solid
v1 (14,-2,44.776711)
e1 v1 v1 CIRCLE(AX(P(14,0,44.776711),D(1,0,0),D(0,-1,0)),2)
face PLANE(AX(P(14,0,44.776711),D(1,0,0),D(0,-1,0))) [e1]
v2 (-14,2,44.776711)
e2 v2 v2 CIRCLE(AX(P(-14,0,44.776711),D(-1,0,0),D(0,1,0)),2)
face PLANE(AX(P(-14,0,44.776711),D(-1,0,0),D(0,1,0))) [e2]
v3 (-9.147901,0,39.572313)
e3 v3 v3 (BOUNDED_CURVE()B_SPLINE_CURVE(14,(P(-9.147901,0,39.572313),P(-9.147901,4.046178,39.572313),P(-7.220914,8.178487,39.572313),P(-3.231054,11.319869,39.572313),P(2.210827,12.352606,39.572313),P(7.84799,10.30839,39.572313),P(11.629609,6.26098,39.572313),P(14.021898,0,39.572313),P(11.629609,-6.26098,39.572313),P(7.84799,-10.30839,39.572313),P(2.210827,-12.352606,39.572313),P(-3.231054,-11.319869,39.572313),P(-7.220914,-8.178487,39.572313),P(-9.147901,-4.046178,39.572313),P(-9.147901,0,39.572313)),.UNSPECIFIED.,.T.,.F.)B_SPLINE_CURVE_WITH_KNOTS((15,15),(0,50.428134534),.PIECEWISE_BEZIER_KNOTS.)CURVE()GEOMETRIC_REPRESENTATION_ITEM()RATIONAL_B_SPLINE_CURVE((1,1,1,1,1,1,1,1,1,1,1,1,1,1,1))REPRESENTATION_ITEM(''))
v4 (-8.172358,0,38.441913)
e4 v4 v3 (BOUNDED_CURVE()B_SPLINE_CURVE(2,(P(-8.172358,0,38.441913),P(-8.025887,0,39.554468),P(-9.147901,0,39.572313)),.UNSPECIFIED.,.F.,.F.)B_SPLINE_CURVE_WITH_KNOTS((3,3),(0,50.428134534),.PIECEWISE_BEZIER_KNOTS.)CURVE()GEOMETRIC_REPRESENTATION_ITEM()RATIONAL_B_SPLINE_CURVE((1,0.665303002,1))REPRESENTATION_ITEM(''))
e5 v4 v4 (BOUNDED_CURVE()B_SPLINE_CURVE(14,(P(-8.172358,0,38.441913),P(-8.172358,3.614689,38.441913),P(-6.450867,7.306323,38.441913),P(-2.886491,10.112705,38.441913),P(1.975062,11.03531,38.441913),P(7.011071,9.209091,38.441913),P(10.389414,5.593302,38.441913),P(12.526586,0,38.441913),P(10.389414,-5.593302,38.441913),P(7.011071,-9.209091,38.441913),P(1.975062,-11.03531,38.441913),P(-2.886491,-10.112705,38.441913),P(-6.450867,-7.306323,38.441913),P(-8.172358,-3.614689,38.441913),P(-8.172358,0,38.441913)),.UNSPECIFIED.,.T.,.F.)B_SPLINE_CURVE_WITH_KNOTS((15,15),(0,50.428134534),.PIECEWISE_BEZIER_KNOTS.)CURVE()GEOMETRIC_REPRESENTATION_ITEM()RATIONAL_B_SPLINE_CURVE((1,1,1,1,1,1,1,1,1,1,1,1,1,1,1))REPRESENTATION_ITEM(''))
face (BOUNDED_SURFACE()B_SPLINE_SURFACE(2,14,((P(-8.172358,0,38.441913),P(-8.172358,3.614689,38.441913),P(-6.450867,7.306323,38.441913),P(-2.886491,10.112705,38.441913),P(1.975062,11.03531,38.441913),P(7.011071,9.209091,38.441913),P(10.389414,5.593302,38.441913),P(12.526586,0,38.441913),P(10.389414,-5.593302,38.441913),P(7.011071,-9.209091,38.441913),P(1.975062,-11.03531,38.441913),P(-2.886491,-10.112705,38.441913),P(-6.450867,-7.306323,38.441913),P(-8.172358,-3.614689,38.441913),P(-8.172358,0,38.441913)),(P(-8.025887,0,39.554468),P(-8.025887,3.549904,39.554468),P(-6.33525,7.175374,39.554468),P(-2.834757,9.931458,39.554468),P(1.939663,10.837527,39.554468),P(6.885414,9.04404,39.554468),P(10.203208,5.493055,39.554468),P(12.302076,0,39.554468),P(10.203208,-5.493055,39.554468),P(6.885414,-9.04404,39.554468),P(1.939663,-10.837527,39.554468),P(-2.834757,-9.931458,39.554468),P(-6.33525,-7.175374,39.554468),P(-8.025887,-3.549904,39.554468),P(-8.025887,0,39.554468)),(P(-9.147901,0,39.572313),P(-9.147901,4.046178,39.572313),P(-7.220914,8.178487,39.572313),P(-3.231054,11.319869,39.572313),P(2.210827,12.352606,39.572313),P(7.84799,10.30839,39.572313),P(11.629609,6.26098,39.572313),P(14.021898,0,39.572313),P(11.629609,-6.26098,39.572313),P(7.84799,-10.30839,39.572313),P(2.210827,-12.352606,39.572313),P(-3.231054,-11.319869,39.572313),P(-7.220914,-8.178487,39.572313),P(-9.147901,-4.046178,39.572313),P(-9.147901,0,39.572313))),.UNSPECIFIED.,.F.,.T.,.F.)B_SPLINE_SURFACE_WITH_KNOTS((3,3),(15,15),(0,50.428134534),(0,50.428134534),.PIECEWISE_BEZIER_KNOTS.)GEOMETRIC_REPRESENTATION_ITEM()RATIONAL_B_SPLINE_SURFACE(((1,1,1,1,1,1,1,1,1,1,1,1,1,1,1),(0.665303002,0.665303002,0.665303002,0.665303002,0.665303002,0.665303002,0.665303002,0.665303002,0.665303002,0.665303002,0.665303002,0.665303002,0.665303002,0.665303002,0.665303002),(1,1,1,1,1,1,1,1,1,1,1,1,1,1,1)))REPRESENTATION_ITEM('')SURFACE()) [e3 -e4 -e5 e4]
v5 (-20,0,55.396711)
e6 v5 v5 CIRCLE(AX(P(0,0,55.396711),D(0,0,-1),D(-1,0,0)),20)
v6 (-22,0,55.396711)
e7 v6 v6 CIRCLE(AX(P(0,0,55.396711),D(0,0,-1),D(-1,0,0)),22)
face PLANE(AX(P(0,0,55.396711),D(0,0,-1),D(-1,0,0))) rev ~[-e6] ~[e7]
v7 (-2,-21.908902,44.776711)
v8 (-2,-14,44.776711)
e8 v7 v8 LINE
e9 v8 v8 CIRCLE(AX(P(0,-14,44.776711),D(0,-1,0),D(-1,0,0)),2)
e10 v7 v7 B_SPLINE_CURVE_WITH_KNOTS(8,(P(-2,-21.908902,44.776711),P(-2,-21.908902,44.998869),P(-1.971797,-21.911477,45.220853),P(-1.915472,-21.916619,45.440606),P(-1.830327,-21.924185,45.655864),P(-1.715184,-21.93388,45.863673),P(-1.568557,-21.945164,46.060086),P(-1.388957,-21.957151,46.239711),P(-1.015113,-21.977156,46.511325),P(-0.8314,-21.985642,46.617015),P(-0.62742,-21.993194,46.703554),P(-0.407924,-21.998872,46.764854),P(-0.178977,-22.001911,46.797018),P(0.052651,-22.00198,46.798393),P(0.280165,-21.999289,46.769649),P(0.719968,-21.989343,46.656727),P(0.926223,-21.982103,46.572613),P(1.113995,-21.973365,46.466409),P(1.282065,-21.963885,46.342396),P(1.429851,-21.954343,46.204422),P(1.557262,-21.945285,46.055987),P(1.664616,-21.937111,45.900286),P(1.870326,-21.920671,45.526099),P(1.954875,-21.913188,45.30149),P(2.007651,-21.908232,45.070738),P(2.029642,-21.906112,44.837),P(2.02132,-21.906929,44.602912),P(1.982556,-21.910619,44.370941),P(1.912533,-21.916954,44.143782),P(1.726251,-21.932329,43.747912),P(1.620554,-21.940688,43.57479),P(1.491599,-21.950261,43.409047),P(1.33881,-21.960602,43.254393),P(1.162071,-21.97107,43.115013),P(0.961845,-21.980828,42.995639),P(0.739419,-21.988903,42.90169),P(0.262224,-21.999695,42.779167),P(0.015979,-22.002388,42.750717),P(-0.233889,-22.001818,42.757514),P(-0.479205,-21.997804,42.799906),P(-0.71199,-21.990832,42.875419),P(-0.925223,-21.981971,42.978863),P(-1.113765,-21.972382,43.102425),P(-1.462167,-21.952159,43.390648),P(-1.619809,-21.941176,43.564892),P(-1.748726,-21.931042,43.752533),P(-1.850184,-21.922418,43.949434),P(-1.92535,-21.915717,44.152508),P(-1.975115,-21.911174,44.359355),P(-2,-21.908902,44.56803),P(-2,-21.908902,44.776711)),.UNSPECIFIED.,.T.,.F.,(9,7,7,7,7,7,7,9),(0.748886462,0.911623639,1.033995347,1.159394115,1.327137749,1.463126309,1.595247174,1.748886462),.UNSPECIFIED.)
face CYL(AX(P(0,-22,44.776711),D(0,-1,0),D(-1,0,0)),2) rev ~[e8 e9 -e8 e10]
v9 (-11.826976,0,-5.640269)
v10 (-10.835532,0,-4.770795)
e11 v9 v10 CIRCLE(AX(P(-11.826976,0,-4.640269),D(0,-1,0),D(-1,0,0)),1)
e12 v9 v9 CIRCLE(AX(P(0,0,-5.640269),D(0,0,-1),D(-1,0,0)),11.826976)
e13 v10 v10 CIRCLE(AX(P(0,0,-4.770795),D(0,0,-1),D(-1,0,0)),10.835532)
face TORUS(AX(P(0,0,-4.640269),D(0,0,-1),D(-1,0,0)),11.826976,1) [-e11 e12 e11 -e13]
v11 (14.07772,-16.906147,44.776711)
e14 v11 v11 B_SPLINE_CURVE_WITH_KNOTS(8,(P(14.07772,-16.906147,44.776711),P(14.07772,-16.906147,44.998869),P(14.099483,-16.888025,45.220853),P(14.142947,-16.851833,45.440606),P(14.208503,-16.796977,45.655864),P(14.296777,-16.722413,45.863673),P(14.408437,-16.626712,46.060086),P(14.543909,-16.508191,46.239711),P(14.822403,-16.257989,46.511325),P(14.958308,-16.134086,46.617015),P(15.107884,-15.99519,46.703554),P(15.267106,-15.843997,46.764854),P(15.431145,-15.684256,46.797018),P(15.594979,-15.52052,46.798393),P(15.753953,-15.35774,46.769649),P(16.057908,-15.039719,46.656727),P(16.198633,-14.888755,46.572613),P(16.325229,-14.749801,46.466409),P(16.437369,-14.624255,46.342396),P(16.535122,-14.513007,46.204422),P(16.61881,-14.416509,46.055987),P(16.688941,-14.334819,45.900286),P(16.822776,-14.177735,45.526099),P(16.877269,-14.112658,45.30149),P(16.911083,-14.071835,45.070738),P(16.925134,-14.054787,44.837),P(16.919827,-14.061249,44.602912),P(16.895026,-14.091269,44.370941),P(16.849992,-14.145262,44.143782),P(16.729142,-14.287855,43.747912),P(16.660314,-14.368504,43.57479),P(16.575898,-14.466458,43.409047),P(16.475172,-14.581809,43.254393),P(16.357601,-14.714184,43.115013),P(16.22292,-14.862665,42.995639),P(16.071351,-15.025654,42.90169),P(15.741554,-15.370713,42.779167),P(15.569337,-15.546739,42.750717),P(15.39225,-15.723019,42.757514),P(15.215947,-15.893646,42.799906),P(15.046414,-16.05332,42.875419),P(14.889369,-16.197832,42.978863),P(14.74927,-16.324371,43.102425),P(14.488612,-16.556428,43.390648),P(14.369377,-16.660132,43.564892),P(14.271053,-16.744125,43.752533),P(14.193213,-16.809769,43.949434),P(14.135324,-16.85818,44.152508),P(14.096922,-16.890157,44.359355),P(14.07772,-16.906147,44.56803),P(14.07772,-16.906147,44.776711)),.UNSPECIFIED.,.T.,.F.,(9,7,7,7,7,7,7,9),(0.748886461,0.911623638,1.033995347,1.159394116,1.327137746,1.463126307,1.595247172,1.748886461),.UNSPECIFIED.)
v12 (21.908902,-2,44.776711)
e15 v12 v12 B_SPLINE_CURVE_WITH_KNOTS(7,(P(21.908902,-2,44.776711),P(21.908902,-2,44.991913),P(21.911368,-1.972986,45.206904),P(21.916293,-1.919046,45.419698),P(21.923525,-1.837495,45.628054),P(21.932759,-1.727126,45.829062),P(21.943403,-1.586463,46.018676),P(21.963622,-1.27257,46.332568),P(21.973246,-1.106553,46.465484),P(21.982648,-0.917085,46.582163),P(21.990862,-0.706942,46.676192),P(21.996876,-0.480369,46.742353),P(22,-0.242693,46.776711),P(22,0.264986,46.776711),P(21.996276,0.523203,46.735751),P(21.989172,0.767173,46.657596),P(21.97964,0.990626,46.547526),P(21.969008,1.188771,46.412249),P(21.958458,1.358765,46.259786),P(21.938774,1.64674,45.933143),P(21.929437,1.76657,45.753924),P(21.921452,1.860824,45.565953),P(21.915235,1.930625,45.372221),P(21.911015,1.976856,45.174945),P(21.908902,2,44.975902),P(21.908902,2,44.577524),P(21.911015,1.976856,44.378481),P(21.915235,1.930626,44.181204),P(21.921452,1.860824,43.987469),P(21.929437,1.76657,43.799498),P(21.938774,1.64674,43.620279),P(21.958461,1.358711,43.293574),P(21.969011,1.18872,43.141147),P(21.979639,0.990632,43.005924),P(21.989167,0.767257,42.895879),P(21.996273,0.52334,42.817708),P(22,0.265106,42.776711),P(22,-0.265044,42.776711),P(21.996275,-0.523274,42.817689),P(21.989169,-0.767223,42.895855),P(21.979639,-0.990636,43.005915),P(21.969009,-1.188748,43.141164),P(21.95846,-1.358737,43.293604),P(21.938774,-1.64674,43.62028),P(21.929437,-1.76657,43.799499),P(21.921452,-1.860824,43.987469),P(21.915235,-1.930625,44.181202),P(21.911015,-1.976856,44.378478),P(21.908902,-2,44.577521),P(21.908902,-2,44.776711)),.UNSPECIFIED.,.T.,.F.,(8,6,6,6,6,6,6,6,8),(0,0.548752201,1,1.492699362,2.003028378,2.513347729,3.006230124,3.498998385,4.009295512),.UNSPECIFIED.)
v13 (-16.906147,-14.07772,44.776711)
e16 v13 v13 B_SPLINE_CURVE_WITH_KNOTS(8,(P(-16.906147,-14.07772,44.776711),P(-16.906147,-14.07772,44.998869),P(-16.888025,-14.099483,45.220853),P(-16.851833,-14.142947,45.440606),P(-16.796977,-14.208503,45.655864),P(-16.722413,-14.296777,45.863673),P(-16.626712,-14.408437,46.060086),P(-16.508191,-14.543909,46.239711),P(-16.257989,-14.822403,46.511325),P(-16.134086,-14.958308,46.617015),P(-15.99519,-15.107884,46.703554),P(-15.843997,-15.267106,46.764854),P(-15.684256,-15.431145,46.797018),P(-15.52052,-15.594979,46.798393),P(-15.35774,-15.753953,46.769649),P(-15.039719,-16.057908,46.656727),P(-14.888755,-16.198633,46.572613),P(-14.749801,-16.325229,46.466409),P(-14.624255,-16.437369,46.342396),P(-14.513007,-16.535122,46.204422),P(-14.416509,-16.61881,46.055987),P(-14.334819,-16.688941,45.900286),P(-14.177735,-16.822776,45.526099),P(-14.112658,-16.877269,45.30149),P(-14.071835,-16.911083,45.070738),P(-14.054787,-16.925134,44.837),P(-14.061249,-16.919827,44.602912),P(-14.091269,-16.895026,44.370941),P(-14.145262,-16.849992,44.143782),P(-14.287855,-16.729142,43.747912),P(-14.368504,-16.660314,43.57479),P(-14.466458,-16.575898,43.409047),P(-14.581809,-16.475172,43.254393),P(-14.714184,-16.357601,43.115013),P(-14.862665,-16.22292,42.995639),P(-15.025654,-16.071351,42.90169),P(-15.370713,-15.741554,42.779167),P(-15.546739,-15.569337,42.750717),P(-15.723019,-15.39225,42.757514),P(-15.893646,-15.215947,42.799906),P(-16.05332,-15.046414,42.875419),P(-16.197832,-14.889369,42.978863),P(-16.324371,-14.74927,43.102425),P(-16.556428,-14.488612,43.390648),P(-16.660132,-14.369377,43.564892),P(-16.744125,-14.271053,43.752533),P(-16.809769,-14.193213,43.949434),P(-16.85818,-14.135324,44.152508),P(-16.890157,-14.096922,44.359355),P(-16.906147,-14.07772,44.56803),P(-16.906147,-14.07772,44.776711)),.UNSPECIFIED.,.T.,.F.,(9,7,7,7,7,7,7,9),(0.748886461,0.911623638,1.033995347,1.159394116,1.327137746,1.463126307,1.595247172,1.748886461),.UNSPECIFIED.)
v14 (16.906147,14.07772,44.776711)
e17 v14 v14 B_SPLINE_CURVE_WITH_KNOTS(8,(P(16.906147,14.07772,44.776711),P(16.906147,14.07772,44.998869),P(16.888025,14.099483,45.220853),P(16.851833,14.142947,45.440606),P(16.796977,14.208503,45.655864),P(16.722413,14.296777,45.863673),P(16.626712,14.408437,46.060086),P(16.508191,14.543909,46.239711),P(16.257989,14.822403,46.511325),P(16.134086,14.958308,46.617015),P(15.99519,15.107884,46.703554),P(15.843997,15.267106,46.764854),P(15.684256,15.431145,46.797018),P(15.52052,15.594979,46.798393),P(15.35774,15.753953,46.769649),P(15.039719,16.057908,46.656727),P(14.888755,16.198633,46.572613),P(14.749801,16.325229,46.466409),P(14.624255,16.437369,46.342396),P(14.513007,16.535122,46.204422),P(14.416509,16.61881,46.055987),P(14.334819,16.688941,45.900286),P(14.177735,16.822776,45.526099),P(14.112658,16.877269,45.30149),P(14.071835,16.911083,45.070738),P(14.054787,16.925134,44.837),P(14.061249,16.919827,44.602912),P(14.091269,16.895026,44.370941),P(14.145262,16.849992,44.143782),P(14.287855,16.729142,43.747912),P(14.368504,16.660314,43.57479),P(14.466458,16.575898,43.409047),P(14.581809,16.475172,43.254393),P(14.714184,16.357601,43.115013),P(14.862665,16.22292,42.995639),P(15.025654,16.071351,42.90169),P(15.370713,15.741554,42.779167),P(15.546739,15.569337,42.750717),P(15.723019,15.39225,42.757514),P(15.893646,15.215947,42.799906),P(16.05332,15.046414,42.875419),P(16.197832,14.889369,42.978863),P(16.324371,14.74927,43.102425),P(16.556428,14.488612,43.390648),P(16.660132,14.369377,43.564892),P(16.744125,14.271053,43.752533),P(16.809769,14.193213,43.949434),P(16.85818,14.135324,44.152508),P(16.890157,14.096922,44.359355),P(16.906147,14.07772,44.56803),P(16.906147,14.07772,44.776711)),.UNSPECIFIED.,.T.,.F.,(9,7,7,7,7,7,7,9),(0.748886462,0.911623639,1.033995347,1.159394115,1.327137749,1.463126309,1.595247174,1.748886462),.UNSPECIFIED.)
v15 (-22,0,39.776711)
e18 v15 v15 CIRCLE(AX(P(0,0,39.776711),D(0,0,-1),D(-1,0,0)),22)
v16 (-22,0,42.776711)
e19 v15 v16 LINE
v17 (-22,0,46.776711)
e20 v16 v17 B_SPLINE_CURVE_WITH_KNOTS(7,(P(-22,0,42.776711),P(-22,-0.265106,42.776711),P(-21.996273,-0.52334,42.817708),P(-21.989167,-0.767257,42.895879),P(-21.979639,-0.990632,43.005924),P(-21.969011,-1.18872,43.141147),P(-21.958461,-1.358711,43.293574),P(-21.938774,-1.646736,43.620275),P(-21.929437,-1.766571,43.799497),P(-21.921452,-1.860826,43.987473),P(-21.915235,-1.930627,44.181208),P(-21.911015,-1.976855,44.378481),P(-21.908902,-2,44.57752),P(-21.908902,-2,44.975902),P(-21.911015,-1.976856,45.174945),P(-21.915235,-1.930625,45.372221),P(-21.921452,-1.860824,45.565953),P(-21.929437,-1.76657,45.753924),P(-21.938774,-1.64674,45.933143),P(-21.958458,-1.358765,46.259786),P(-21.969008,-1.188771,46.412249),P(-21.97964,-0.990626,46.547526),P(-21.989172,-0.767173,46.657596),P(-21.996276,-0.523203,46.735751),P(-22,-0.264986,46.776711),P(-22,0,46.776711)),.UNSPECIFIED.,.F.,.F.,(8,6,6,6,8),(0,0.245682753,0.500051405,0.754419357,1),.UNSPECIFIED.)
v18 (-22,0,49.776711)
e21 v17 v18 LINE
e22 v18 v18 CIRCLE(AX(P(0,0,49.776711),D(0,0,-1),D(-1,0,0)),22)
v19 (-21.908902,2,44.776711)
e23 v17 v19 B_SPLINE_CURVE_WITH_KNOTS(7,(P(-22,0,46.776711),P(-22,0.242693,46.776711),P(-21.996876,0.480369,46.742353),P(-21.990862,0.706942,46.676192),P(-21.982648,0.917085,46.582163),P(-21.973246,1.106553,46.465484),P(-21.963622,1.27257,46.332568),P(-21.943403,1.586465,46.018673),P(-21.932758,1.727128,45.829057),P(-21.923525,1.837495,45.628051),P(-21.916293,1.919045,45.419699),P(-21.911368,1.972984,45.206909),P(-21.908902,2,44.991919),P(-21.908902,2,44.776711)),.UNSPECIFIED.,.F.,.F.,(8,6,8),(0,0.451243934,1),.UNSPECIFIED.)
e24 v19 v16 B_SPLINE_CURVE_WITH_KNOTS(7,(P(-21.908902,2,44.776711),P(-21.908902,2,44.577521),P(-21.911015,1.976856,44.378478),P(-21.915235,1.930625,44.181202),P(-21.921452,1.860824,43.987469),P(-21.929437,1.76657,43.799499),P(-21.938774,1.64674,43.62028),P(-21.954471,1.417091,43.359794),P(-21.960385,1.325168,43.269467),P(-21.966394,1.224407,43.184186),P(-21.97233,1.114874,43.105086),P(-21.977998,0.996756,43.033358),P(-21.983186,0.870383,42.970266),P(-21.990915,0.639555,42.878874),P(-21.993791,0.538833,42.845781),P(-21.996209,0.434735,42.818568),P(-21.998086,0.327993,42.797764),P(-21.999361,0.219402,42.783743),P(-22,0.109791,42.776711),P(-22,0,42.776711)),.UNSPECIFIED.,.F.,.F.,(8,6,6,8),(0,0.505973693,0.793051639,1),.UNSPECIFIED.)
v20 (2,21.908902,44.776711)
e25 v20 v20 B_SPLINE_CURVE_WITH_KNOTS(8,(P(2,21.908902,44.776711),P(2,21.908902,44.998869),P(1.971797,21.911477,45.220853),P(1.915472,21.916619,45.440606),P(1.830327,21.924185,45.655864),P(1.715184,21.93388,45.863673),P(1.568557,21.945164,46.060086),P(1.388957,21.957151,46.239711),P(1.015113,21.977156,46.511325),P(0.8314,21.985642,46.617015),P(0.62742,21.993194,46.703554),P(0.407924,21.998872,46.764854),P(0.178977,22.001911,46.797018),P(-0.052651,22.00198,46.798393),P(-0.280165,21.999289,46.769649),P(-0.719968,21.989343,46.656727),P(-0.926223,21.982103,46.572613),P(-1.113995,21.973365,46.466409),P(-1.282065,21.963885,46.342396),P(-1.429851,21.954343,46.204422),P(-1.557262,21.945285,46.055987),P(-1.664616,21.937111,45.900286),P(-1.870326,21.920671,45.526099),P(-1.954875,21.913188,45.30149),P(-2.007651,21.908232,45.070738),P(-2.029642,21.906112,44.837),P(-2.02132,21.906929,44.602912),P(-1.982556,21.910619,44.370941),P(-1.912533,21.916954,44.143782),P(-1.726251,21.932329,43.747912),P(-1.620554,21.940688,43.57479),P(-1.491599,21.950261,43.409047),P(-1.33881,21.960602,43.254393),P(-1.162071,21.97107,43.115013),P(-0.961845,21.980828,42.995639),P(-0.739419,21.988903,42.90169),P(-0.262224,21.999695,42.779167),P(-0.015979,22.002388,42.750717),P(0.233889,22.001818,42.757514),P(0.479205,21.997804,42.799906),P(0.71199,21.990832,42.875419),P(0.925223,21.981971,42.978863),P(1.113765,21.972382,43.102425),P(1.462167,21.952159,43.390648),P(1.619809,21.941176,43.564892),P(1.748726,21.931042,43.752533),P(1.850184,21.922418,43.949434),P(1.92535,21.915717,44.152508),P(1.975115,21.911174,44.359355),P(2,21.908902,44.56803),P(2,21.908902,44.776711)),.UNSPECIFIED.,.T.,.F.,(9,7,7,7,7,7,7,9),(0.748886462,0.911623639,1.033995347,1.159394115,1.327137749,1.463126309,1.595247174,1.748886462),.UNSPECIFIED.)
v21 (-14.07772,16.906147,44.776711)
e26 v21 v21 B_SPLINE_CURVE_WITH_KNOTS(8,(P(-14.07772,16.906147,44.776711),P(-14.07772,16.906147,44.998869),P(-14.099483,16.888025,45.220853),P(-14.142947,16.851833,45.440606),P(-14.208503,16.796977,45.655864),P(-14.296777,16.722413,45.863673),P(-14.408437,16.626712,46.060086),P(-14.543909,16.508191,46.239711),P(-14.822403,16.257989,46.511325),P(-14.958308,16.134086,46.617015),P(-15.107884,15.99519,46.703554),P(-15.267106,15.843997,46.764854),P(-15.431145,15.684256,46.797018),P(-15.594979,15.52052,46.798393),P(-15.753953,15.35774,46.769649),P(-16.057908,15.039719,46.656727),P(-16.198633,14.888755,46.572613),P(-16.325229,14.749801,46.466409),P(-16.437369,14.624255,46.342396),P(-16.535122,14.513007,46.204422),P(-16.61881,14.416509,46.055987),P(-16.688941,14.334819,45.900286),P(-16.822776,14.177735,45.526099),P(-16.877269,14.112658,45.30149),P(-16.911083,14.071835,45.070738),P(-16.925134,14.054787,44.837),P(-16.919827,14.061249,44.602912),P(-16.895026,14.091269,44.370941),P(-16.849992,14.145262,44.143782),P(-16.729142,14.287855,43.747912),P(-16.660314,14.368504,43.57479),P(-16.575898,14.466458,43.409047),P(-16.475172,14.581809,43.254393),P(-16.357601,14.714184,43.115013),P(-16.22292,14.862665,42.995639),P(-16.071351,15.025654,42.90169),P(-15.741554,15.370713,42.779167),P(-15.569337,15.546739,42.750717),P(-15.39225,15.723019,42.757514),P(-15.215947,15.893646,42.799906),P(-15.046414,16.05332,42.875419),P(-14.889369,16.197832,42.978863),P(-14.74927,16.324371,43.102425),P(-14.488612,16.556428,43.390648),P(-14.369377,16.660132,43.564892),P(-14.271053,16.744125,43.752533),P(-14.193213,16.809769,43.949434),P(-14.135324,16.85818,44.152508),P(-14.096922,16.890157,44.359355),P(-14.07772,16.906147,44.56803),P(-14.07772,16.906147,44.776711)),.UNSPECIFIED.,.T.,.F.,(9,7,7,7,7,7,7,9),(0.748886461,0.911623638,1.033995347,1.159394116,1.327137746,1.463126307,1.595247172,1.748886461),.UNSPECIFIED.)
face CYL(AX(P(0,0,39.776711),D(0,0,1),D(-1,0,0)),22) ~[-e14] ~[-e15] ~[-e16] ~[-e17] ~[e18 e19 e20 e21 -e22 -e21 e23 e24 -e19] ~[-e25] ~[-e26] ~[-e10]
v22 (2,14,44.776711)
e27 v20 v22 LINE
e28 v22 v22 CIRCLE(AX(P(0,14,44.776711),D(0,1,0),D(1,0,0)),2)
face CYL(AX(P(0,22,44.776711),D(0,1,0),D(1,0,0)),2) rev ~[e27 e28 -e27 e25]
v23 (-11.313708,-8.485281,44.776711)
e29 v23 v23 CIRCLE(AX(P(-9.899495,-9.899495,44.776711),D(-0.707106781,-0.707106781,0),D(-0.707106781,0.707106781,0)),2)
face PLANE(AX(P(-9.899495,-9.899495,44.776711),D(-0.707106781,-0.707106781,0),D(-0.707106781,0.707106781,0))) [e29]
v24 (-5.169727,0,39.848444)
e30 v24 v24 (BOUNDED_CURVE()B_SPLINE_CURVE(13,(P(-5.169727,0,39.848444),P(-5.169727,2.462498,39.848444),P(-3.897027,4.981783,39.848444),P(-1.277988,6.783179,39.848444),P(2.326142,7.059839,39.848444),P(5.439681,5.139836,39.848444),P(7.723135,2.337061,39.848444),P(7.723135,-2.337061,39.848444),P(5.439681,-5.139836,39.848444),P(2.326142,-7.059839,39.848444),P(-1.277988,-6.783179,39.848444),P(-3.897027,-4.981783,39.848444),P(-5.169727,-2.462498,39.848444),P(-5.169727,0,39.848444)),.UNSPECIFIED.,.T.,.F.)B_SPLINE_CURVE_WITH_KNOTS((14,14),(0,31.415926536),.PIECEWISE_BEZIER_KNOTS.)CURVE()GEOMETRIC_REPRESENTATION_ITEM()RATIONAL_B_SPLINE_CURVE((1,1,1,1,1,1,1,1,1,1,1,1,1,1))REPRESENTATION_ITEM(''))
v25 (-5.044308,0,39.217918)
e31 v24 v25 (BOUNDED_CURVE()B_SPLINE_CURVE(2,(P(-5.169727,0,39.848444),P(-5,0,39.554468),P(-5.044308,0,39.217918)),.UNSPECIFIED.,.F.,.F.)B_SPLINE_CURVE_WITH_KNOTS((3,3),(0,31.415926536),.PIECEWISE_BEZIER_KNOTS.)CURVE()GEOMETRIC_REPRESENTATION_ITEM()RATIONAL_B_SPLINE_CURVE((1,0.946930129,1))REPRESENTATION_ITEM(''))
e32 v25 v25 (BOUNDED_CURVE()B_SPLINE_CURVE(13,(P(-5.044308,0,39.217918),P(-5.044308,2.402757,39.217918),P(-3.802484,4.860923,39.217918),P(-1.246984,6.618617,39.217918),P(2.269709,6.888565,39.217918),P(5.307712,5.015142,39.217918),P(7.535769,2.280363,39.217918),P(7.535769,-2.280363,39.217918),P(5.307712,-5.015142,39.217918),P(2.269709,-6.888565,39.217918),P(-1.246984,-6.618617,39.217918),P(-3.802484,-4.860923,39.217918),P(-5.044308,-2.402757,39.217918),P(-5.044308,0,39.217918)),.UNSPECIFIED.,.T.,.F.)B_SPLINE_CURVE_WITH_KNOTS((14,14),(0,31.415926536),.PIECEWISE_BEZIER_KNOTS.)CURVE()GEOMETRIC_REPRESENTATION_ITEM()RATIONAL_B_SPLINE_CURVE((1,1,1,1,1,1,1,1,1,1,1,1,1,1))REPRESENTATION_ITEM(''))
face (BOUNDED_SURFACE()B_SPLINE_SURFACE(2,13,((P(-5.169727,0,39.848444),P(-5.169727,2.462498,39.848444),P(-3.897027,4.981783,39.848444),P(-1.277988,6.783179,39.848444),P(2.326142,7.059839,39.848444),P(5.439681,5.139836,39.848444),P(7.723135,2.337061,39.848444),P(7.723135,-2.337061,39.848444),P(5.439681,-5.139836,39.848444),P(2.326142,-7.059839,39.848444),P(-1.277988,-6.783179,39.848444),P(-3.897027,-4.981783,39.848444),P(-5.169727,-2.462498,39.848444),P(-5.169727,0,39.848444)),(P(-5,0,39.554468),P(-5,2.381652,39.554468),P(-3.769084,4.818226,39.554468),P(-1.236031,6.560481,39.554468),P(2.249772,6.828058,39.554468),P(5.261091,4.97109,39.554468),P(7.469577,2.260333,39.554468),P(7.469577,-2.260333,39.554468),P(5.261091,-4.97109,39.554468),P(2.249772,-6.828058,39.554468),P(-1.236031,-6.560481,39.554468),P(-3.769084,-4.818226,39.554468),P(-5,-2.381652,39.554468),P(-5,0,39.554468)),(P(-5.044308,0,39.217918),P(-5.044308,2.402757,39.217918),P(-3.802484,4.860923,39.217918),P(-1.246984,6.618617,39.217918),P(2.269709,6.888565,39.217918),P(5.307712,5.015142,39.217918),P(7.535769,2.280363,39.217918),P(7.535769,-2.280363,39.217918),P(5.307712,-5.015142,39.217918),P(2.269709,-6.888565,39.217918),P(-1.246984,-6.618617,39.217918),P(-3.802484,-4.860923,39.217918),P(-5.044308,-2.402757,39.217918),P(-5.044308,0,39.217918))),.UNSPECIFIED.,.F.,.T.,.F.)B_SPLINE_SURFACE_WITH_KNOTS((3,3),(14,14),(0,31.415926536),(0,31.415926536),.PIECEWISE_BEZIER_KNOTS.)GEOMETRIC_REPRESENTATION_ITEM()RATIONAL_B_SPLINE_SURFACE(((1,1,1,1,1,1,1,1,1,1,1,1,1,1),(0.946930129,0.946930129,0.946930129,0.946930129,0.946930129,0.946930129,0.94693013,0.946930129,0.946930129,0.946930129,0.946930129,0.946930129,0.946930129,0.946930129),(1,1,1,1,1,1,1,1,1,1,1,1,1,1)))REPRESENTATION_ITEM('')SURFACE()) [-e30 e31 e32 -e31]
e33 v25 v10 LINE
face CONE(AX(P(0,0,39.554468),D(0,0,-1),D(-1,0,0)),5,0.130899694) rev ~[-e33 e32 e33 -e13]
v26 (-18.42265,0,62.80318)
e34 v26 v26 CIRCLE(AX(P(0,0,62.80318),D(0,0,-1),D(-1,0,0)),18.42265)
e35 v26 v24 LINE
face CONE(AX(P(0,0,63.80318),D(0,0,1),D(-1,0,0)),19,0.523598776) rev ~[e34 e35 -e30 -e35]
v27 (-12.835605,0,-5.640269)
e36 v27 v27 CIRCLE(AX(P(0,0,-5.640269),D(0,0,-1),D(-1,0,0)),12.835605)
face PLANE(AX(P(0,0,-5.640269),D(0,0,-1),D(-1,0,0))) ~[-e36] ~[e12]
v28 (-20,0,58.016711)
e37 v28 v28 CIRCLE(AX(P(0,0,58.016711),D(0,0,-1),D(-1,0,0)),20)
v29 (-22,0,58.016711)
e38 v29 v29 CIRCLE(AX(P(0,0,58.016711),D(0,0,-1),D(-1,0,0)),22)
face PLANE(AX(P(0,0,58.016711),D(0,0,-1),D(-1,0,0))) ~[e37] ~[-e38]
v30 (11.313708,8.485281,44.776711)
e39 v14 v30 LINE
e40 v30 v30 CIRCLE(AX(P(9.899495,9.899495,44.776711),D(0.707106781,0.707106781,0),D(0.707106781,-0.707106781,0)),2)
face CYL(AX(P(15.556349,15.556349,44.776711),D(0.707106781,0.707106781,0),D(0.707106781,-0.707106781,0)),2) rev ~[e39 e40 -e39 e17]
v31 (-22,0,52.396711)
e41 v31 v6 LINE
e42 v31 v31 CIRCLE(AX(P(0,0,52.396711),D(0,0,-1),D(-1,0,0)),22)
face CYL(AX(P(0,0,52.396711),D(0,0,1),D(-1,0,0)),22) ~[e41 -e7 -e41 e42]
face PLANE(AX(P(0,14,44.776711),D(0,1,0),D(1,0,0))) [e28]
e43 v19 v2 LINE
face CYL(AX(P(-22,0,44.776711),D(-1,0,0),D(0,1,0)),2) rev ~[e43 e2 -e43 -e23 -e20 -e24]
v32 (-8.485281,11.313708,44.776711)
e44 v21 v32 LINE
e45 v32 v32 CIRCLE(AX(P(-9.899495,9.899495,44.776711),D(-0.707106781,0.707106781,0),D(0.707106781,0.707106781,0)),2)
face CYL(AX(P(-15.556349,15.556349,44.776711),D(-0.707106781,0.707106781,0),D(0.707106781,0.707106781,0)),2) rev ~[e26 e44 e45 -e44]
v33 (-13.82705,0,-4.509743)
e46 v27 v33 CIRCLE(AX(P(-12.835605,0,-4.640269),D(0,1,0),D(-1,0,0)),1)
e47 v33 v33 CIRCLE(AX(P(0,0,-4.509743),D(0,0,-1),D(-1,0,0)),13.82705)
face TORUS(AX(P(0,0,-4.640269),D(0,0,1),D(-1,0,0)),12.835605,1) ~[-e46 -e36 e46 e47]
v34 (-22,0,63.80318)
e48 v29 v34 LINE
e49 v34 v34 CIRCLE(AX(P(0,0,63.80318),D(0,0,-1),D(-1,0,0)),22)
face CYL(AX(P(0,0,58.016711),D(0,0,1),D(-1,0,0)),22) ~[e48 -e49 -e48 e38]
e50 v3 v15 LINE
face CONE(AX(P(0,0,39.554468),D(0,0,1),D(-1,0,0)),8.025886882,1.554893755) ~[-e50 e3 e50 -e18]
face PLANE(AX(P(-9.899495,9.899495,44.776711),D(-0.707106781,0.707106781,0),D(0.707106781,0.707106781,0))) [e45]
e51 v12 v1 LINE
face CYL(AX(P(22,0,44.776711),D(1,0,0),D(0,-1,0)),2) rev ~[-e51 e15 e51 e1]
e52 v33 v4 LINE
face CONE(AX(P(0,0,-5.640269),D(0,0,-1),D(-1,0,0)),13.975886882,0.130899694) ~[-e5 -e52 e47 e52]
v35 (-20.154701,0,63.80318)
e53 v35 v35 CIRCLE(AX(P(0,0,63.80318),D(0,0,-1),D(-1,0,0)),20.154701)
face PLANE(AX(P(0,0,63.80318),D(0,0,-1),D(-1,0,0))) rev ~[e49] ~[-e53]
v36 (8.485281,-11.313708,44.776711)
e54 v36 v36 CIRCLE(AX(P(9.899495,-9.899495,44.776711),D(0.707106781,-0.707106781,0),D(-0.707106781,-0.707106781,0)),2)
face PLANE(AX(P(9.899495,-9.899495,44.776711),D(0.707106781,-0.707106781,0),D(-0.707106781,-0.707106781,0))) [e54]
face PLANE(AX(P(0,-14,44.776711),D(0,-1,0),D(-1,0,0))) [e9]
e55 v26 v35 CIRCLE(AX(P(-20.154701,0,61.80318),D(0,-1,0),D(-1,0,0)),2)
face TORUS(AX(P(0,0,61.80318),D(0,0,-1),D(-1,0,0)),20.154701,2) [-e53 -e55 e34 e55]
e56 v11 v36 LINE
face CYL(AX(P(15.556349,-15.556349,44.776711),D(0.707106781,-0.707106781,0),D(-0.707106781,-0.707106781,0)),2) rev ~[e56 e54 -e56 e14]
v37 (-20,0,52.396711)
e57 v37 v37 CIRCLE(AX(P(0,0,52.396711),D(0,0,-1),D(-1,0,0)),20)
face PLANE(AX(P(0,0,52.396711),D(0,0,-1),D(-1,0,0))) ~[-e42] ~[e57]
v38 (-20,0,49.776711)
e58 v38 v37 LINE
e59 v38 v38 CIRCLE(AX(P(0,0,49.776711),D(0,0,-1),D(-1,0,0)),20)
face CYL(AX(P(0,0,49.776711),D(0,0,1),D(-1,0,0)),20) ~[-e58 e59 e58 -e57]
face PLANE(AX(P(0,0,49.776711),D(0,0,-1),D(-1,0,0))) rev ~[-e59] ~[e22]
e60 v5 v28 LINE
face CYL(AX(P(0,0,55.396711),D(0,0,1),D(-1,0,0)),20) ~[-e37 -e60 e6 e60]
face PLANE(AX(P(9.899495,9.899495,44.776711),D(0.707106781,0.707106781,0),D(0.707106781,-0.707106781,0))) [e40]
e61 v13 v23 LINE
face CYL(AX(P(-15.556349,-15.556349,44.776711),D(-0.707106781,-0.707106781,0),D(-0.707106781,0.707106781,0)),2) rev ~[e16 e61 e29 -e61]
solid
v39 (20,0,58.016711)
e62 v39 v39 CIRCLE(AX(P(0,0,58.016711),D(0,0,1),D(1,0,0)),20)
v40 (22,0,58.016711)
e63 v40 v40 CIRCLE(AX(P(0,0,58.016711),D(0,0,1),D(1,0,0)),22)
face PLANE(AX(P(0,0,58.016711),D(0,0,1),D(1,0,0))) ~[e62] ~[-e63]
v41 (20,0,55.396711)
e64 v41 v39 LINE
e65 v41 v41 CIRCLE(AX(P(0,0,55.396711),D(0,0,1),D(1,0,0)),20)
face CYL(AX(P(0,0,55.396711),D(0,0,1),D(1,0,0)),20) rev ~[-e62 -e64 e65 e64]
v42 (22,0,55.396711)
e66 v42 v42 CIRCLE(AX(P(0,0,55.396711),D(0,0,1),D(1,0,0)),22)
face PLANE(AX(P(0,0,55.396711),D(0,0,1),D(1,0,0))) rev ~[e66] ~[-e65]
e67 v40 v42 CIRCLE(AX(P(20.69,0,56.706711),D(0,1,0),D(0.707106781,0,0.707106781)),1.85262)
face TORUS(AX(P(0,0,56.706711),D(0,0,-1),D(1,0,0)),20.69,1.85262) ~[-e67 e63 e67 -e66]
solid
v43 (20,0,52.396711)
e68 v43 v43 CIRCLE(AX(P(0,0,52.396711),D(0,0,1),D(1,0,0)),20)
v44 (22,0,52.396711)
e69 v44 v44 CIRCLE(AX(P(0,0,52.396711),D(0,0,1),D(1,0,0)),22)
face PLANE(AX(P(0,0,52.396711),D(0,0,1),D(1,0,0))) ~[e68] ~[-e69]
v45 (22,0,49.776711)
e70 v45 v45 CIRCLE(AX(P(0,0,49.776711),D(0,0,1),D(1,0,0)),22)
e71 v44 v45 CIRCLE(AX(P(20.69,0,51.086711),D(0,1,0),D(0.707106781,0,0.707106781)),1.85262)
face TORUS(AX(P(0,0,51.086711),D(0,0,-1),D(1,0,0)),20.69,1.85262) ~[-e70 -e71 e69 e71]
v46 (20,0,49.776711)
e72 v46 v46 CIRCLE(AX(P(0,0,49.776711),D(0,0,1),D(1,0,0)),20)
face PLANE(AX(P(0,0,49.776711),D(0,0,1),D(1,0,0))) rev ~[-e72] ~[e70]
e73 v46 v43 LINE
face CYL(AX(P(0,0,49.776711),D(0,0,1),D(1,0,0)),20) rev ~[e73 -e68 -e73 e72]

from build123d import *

# Parameters (mm, degrees)
ESBO_O3_R             = 2
CORTE_EXTRUS_O1_DEPTH = 8
PADR_OCIRCULAR1_COUNT = 8
FILETE1_R             = 1
FILETE2_R             = 1
FILETE3_R             = 1
FILETE4_R             = 2
FILETE5_R             = 1


with BuildPart() as part:
    # Esboço1 → Revolução1 (revolve)
    with BuildSketch(Plane(origin=(0, 0, 0), x_dir=(1, 0, 0), z_dir=(0, 1, 0))):
        Polygon((-5, -39.554468212), (-10.95, 5.640268758), (-13.975886882, 5.640268758), (-8.025886882, -39.554468212), (-22, -39.776711279), (-22, -49.776711279), (-20, -49.776711279), (-20, -52.396711279), (-22, -52.396711279), (-22, -55.396711279), (-20, -55.396711279), (-20, -58.016711279), (-22, -58.016711279), (-22, -63.803179518), (-19, -63.803179518), align=None)
    revolve(axis=Axis((0, 0, 0), (0, 0, -1)))

    # Esboço3 → Corte-extrusão1 (cut)
    with BuildSketch(Plane(origin=(0, 22, 0), x_dir=(1, 0, 0), z_dir=(0, 1, 0))):
        with Locations((0, -44.776711279)):
            Circle(ESBO_O3_R)
    corte_extrus_o1 = extrude(amount=-CORTE_EXTRUS_O1_DEPTH, mode=Mode.SUBTRACT)

    # PadrãoCircular1: Corte-extrusão1 ×8 about axis
    padr_ocircular1_axis = Axis((0, 0, 39.776711279), (0, 0, 1))
    for i in range(1, PADR_OCIRCULAR1_COUNT):
        add(corte_extrus_o1.rotate(padr_ocircular1_axis, i * 360 / PADR_OCIRCULAR1_COUNT), mode=Mode.SUBTRACT)

    # Filete1
    filete1_edges = [part.edges().sort_by_distance(p)[0] for p in [
        (13.975886882, 0, -5.640268758),
    ]]
    fillet(filete1_edges, radius=FILETE1_R)

    # Filete2
    filete2_edges = [part.edges().sort_by_distance(p)[0] for p in [
        (10.95, 0, -5.640268758),
    ]]
    fillet(filete2_edges, radius=FILETE2_R)

    # Filete3
    filete3_edges = [part.edges().sort_by_distance(p)[0] for p in [
        (8.025886882, 0, 39.554468212),
    ]]
    fillet(filete3_edges, radius=FILETE3_R)

    # Filete4
    filete4_edges = [part.edges().sort_by_distance(p)[0] for p in [
        (19, 0, 63.803179518),
    ]]
    fillet(filete4_edges, radius=FILETE4_R)

    # Filete5
    filete5_edges = [part.edges().sort_by_distance(p)[0] for p in [
        (5, 0, 39.554468212),
    ]]
    fillet(filete5_edges, radius=FILETE5_R)


with BuildPart() as body_2:
    # Esboço4 → Revolução2 (revolve)
    with BuildSketch(Plane(origin=(0, 0, 0), x_dir=(1, 0, 0), z_dir=(0, 1, 0))):
        with BuildLine():
            ThreePointArc((22, -52.396711279), (22.542619767, -51.086711279), (22, -49.776711279))
            Line((22, -49.776711279), (20, -49.776711279))
            Line((20, -49.776711279), (20, -52.396711279))
            Line((20, -52.396711279), (22, -52.396711279))
        make_face()
        with BuildLine():
            ThreePointArc((22, -58.016711279), (22.542619767, -56.706711279), (22, -55.396711279))
            Line((22, -55.396711279), (20, -55.396711279))
            Line((20, -55.396711279), (20, -58.016711279))
            Line((20, -58.016711279), (22, -58.016711279))
        make_face()
    revolve(axis=Axis((0, 0, 0), (0, 0, 1)))


solid = Compound([part.part, body_2.part])
